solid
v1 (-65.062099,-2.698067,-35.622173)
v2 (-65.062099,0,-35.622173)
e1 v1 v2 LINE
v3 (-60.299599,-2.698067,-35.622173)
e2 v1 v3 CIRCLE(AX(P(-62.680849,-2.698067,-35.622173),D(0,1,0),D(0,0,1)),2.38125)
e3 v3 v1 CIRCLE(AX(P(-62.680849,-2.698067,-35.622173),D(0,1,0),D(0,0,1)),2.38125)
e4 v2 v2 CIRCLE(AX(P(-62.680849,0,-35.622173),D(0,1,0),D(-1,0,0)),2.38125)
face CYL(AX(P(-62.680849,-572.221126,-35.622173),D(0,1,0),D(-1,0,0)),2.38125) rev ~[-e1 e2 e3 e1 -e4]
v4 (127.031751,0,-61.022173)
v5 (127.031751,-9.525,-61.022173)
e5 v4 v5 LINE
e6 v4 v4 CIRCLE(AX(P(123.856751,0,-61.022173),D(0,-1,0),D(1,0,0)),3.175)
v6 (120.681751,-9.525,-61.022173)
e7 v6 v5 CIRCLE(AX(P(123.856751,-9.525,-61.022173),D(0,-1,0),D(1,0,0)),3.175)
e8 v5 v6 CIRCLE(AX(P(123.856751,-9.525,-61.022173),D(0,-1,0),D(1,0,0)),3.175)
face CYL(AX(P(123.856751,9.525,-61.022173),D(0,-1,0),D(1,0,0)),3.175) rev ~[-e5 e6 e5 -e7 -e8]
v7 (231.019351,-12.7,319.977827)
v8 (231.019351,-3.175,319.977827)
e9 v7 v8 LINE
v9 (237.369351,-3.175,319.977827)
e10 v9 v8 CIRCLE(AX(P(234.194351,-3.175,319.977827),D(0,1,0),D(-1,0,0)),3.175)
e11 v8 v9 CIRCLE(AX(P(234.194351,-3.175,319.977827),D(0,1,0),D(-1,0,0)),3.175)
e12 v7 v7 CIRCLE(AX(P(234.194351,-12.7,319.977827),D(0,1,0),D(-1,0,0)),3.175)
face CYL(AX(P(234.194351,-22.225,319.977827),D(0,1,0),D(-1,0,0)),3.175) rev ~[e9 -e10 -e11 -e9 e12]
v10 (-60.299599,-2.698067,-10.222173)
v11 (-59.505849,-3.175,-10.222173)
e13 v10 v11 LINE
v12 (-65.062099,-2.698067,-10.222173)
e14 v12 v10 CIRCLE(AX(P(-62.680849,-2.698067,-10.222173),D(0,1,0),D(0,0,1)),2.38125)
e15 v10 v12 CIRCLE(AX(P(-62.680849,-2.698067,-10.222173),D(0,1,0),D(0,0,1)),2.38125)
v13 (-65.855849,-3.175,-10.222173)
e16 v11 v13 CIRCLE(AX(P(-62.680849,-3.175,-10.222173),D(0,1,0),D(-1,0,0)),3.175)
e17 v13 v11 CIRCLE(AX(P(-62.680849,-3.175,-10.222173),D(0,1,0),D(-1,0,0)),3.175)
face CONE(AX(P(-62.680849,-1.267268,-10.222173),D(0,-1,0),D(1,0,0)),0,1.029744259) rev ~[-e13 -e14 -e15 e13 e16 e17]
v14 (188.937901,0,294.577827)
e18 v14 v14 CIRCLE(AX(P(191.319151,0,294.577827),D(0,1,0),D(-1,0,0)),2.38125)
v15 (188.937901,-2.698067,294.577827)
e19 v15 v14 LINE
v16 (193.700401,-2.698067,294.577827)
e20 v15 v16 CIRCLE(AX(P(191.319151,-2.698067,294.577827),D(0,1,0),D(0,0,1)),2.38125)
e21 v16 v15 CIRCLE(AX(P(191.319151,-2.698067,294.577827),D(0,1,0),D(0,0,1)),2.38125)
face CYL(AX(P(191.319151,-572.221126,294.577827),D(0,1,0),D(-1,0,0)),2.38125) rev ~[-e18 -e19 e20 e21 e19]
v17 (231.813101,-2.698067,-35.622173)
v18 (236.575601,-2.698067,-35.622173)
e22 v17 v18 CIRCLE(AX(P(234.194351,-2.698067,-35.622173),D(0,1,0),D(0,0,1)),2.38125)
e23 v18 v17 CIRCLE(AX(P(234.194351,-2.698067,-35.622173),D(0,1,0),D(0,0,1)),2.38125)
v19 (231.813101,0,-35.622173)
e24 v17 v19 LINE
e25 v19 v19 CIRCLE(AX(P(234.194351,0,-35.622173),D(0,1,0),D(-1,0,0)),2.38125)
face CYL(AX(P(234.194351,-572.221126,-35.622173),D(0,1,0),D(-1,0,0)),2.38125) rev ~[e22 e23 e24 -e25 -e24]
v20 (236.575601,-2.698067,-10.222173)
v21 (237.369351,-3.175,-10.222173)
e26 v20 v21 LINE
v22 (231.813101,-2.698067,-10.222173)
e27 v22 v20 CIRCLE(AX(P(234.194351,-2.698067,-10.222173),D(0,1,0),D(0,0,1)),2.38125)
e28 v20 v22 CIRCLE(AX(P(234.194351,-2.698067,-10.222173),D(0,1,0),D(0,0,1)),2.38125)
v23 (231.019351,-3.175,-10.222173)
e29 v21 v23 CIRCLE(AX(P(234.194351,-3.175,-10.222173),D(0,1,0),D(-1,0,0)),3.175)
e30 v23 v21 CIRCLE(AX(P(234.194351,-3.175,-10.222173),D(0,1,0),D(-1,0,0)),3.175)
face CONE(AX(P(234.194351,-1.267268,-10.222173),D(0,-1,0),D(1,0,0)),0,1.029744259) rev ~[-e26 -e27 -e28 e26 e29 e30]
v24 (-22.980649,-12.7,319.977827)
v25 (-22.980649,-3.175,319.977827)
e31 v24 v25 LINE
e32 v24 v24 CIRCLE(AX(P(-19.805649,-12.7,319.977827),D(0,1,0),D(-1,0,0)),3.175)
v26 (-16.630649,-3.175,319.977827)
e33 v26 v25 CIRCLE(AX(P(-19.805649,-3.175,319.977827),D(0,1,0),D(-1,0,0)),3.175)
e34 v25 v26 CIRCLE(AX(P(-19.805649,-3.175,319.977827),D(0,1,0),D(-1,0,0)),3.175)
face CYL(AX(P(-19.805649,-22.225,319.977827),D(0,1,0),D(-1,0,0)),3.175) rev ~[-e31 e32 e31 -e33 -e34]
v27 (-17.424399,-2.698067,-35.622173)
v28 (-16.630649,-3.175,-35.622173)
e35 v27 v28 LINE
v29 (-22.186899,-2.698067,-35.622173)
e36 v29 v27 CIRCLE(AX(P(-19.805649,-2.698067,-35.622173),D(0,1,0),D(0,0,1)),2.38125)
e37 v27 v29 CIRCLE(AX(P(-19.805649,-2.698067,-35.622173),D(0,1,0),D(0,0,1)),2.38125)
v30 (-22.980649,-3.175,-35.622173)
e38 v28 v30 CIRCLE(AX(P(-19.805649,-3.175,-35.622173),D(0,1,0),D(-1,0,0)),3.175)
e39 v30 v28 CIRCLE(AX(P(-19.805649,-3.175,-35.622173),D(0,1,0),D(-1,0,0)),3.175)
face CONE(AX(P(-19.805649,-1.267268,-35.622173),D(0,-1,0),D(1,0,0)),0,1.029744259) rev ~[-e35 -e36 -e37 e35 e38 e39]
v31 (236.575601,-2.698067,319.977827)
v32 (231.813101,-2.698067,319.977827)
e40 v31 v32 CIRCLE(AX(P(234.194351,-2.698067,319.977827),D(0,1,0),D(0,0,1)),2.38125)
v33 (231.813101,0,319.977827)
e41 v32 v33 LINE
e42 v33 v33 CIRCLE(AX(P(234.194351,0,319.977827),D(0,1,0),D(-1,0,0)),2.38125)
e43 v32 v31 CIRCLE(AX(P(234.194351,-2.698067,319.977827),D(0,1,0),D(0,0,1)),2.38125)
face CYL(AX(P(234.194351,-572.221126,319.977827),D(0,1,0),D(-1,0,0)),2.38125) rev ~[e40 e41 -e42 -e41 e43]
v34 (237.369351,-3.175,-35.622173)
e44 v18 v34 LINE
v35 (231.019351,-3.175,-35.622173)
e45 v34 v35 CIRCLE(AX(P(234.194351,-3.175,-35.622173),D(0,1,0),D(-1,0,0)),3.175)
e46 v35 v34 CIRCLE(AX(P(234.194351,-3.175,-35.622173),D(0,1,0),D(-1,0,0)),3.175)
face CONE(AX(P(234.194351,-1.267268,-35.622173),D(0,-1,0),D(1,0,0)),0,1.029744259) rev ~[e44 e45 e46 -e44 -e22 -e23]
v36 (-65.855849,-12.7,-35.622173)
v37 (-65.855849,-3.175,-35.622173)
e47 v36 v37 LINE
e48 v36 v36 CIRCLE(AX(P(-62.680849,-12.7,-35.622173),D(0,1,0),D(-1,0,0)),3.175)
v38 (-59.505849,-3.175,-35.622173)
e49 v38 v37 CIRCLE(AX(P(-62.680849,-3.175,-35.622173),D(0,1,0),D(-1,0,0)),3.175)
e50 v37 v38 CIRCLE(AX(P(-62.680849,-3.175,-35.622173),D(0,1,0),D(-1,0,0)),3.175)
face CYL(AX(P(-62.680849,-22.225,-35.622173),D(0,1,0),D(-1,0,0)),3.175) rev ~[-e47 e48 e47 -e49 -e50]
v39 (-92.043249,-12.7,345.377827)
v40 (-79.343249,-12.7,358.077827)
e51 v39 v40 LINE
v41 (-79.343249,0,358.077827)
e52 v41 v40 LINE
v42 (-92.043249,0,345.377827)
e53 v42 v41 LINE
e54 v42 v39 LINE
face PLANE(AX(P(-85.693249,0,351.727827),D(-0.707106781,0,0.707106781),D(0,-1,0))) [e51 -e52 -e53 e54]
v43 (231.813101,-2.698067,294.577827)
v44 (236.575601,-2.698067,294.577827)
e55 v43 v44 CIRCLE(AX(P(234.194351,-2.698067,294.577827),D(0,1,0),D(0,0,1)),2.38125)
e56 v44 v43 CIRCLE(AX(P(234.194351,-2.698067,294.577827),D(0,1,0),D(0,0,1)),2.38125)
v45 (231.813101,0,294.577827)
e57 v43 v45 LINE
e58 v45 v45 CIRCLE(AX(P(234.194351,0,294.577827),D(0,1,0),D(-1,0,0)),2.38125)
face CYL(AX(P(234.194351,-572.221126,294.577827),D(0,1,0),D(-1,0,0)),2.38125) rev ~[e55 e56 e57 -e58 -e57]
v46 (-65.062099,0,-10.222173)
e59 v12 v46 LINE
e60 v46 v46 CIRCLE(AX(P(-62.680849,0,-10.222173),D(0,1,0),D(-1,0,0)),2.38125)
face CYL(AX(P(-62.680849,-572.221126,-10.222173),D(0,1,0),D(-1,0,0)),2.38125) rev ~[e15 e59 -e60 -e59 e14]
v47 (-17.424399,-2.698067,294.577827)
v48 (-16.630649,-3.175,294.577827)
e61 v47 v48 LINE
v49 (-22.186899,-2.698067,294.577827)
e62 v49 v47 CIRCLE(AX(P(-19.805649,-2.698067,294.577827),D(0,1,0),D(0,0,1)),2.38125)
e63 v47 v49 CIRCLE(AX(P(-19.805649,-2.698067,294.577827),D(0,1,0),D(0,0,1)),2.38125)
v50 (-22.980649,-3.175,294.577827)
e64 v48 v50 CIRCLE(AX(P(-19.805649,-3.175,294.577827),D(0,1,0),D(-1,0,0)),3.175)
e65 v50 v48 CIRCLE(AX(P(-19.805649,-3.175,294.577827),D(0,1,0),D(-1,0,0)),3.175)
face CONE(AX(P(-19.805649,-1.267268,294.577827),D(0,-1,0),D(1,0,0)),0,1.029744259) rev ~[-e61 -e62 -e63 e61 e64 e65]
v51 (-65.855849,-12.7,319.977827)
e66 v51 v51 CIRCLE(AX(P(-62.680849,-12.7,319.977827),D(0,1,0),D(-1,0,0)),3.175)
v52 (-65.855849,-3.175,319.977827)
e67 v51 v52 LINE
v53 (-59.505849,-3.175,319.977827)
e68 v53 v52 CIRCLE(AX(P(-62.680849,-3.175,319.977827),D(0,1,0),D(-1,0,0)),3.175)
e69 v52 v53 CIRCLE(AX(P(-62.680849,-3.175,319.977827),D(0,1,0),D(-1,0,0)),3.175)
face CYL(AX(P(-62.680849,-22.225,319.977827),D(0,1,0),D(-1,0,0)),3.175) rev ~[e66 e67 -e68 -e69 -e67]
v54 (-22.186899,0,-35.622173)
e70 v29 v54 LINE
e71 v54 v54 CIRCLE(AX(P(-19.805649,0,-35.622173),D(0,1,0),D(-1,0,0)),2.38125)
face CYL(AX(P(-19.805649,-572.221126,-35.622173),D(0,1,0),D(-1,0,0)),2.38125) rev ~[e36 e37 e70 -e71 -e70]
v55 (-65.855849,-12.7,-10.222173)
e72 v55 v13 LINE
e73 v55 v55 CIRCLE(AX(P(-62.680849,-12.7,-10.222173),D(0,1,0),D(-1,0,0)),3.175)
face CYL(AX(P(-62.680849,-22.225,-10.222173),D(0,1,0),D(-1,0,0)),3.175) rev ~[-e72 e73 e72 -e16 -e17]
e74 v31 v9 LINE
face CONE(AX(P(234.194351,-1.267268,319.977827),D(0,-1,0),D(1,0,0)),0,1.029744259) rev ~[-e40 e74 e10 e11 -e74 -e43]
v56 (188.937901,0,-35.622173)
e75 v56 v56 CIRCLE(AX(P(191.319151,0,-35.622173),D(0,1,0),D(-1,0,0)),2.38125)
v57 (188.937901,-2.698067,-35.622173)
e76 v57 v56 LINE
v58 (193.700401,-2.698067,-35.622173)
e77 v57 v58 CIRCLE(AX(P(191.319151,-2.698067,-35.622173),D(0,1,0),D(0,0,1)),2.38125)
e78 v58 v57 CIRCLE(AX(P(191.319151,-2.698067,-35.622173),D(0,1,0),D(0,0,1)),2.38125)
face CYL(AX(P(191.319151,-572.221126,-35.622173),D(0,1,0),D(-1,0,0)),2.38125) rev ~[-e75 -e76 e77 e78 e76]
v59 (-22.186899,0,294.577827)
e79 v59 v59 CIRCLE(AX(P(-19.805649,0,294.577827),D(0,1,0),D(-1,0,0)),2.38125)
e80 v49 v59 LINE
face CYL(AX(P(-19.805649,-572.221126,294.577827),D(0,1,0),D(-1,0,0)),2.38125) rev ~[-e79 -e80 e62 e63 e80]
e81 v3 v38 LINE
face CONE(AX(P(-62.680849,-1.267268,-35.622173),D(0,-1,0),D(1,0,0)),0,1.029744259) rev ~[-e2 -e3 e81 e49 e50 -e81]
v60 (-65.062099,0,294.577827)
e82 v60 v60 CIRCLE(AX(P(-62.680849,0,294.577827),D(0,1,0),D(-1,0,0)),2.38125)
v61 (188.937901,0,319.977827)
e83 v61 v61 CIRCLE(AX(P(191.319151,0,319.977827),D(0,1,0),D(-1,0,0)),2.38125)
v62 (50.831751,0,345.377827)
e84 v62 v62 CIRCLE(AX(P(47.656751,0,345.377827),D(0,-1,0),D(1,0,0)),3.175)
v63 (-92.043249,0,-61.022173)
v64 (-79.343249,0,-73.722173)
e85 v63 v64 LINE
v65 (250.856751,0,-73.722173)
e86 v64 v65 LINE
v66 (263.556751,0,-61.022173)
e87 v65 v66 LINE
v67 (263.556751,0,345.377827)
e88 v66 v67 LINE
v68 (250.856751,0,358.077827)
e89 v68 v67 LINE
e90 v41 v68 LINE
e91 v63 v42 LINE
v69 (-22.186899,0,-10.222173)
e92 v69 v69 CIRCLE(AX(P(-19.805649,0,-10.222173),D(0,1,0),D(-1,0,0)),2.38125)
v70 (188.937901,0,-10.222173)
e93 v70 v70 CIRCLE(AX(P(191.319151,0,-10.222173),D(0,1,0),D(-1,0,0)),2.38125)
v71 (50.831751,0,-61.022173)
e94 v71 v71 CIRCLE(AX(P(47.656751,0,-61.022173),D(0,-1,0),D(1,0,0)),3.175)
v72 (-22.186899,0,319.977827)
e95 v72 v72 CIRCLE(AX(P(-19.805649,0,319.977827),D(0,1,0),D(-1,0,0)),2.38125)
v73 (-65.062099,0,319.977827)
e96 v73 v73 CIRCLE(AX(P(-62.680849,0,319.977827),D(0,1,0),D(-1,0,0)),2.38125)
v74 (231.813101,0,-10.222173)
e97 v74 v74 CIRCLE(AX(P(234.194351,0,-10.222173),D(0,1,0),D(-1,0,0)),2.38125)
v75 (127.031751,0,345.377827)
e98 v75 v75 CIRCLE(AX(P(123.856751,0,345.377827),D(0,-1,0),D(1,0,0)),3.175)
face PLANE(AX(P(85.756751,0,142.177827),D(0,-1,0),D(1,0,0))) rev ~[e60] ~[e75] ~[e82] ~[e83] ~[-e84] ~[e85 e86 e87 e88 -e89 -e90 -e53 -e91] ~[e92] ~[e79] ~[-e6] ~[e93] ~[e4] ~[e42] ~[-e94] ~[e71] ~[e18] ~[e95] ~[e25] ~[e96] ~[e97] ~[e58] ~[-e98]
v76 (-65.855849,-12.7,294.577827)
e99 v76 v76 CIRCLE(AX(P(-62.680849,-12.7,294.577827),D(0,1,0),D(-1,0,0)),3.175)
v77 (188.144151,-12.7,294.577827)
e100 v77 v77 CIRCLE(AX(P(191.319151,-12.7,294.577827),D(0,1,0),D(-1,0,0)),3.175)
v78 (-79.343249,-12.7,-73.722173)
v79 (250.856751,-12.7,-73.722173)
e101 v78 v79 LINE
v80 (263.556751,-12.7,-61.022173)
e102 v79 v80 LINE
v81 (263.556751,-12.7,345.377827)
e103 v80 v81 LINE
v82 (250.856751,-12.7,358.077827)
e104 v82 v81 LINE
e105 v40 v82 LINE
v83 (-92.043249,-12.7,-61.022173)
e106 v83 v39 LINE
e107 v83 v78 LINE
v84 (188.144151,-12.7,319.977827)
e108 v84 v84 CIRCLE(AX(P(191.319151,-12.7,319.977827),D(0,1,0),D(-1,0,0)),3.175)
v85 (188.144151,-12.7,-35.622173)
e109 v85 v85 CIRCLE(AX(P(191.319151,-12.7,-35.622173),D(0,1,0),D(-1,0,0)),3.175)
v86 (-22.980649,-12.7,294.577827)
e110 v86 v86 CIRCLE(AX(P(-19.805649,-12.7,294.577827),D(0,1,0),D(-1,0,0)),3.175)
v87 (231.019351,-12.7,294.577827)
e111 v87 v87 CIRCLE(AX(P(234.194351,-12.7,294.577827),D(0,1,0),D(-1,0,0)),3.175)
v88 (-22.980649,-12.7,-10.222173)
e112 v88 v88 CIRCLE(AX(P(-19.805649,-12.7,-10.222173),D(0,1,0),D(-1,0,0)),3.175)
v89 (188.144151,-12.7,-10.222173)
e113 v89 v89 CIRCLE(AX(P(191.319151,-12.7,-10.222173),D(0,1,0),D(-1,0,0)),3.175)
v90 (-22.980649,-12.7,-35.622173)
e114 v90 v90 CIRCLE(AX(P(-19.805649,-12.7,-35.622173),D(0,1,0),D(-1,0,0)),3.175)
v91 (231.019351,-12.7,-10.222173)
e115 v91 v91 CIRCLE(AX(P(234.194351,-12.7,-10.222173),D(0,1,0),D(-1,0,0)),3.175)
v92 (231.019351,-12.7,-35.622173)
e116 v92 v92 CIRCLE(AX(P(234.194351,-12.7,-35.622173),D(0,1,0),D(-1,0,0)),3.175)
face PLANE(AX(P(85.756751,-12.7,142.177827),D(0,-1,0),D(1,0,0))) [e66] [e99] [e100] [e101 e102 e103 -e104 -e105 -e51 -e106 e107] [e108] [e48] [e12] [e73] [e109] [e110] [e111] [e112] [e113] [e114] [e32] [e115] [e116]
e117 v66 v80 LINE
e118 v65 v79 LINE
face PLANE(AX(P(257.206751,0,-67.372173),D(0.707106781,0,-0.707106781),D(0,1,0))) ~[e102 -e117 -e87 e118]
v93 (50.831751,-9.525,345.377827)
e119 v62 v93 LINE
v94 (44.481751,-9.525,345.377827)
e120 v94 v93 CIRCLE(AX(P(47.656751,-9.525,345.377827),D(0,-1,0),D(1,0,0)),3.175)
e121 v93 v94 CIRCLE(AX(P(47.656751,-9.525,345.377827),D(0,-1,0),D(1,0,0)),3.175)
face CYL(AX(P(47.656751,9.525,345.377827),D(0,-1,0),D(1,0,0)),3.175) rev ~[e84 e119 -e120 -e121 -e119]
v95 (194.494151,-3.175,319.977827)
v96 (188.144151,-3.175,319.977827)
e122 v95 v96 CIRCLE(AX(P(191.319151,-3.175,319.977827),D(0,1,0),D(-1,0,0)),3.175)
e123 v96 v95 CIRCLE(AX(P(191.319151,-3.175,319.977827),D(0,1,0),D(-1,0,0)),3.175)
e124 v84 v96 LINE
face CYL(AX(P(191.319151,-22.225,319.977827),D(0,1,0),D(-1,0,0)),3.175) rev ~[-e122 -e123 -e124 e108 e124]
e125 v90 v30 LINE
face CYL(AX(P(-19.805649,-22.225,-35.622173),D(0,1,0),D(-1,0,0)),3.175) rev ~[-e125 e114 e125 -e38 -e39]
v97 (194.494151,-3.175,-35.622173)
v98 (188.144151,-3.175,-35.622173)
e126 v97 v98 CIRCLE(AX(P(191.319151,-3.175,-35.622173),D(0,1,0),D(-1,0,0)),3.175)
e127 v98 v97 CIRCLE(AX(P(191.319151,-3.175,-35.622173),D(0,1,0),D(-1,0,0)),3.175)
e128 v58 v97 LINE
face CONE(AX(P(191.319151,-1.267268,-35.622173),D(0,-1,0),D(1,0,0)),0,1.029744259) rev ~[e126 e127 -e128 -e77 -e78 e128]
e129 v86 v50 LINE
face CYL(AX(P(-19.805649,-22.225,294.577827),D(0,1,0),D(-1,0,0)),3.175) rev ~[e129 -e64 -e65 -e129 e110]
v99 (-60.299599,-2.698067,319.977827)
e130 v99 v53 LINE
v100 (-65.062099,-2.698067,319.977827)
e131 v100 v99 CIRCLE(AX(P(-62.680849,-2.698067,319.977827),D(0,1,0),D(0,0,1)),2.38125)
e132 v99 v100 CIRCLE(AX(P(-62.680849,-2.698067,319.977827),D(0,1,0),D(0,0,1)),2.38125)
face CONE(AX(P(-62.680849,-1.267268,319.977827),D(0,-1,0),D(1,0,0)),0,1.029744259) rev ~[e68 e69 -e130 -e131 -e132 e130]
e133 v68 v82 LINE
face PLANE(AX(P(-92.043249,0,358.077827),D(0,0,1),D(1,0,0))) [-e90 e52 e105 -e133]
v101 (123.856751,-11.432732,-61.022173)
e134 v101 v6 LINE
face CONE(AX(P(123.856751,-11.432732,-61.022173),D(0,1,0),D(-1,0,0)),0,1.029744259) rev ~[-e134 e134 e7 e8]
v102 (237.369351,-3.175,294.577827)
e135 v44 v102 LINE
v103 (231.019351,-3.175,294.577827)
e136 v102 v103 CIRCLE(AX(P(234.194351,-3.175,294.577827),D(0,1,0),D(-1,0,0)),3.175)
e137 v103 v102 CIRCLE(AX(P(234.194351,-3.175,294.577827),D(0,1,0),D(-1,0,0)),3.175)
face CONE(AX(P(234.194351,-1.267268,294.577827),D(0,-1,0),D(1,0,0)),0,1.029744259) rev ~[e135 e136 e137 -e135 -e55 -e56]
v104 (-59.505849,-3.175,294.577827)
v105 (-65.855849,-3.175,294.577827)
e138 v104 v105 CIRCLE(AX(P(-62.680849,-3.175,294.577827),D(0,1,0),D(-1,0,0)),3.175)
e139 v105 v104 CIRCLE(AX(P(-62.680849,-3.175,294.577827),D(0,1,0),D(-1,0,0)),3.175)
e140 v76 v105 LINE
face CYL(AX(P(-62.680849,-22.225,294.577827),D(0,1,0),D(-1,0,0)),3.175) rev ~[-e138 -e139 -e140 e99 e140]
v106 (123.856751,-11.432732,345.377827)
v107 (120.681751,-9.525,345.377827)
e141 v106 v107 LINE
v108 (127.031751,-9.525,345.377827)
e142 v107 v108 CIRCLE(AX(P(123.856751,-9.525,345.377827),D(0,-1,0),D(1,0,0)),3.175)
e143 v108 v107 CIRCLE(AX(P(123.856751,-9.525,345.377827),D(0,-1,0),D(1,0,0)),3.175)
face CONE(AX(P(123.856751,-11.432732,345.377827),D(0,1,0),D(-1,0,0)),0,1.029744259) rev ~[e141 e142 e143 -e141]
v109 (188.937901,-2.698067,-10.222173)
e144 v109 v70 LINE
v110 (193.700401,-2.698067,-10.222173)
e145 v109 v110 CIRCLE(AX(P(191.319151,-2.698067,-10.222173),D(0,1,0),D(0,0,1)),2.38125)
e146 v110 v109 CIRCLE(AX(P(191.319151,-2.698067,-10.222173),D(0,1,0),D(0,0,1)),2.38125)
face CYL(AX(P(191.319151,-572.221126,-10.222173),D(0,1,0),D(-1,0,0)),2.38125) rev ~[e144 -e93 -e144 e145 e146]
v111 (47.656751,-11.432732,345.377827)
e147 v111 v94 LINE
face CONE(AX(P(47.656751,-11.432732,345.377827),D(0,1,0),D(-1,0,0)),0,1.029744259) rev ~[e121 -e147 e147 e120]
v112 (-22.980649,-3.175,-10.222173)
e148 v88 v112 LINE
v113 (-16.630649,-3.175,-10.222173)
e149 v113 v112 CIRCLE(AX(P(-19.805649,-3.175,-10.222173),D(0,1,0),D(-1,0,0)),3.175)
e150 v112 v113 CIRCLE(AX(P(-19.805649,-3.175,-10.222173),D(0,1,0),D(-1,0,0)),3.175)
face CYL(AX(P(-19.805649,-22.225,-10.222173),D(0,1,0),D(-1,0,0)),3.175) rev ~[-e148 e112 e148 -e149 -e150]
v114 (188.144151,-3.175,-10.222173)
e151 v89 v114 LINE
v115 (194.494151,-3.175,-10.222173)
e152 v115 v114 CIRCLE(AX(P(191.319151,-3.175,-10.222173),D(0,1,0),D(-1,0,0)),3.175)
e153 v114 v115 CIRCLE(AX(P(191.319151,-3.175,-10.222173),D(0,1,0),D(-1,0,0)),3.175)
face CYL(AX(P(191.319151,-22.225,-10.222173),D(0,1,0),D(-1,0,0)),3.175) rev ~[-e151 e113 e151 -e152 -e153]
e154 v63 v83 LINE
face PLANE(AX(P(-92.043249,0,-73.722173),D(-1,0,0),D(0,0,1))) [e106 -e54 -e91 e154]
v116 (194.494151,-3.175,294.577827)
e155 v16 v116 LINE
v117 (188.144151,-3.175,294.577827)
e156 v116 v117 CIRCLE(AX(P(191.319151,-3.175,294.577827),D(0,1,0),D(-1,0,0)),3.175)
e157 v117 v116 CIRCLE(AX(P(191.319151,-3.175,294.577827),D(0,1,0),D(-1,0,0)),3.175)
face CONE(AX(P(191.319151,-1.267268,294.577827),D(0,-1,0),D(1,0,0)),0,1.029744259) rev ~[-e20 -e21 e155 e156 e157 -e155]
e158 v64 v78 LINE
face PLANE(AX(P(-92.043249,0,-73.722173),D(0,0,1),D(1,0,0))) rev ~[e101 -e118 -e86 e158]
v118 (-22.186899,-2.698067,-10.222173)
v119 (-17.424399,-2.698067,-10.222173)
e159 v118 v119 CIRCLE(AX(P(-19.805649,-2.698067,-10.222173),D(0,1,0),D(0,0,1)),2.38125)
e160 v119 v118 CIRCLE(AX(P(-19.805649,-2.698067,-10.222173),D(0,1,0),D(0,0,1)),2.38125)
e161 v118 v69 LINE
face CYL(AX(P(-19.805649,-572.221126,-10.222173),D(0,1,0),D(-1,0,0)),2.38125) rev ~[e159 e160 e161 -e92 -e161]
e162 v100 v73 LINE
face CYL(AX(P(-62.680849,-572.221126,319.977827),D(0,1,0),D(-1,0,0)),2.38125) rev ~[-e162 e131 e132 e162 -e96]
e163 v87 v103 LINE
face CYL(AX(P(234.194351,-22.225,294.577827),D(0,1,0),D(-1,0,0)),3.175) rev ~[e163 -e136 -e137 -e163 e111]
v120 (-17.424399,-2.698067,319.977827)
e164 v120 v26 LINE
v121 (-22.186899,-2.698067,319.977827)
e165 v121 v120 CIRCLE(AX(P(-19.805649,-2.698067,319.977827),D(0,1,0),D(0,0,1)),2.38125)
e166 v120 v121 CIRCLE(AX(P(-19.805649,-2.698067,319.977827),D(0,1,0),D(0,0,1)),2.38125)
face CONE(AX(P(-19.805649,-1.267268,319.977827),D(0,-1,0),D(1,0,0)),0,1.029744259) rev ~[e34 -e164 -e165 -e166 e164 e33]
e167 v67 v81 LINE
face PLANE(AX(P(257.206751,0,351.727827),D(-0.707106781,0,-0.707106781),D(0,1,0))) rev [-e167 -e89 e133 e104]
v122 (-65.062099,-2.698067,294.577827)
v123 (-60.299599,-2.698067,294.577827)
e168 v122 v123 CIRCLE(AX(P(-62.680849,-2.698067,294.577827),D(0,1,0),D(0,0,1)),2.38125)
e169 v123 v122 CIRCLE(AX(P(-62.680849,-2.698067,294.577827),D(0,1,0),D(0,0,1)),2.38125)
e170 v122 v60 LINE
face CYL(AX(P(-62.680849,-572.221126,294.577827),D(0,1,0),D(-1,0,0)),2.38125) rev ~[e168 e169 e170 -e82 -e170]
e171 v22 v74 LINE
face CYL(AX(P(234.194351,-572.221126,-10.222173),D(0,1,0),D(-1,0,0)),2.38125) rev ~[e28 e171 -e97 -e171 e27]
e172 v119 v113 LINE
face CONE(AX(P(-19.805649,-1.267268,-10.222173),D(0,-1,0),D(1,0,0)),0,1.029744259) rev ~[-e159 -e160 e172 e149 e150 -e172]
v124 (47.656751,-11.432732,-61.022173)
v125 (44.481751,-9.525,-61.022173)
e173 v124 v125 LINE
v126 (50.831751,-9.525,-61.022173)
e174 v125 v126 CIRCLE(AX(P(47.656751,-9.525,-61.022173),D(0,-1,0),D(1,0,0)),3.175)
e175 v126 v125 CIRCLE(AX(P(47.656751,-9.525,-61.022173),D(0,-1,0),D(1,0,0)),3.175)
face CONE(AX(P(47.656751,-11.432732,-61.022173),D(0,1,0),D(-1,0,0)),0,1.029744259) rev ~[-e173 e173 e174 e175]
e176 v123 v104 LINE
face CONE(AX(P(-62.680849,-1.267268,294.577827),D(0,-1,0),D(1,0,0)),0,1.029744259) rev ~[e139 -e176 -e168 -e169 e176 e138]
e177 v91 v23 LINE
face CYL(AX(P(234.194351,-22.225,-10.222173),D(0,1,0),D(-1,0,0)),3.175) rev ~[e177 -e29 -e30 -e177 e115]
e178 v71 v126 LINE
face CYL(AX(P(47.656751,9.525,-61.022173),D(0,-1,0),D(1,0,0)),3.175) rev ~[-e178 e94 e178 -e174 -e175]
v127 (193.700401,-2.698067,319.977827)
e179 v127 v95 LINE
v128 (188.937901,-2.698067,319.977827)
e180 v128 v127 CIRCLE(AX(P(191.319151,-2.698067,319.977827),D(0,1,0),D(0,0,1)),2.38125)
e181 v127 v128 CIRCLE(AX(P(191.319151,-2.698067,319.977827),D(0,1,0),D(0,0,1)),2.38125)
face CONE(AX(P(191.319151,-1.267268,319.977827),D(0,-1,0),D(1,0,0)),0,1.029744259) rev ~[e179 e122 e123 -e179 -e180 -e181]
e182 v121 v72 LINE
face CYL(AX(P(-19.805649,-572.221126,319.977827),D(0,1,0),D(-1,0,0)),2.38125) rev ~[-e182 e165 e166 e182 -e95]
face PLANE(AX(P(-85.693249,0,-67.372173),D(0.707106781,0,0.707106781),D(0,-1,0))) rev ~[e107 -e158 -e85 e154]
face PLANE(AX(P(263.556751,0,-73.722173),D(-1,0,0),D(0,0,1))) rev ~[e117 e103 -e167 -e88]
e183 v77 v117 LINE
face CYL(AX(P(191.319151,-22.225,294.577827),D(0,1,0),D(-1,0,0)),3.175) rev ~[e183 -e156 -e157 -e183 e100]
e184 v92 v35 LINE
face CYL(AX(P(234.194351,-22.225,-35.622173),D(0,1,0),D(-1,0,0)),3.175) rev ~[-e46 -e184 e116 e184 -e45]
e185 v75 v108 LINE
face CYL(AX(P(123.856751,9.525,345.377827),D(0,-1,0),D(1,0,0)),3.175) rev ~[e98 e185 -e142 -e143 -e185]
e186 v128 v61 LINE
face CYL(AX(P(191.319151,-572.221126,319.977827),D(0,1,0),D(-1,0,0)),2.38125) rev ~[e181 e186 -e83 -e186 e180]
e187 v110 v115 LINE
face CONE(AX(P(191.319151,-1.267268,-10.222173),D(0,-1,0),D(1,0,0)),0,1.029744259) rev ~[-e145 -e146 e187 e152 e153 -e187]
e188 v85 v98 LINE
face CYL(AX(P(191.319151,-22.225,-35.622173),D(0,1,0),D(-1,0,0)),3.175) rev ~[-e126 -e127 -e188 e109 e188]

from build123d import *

# Parameters (mm, degrees)
F0_W     = 355.6
F0_H     = 431.8
F1_DEPTH = 12.7
F3_D     = 4.7625
F4_D     = 6.35
F4_DEPTH = 9.525
F4_TIP   = 1.9077324654
F5_SIZE  = 12.7
F7_D     = 6.35
F7_DEPTH = 9.525
F7_TIP   = 1.9077324654


with BuildPart() as f1:
    # F0 (on Front) → F1 (new body)
    with BuildSketch(Plane.XZ):
        with Locations((85.7567511559, 142.1778269973)):
            Rectangle(F0_W, F0_H)
    extrude(amount=F1_DEPTH)

    # F3 (through all)
    with Locations(Plane.XZ.offset(12.7)):
        with Locations((-62.6808488441, 319.9778269973), (-62.6808488441, 294.5778269973), (-19.8056488441, 294.5778269973), (-19.8056488441, 319.9778269973), (191.3191511559, 294.5778269973), (234.1943511559, 294.5778269973), (234.1943511559, 319.9778269973), (191.3191511559, 319.9778269973), (-19.8056488441, -10.2221730027), (-62.6808488441, -10.2221730027), (-62.6808488441, -35.6221730027), (-19.8056488441, -35.6221730027), (191.3191511559, -35.6221730027), (234.1943511559, -35.6221730027), (234.1943511559, -10.2221730027), (191.3191511559, -10.2221730027)):
            Hole(F3_D / 2)

    # F4
    with Locations(Plane.XZ.offset(12.7)):
        with Locations((-62.6808488441, 319.9778269973), (-19.8056488441, 319.9778269973), (-62.6808488441, 294.5778269973), (-19.8056488441, 294.5778269973), (191.3191511559, 294.5778269973), (191.3191511559, 319.9778269973), (234.1943511559, 319.9778269973), (234.1943511559, 294.5778269973), (-19.8056488441, -10.2221730027), (-19.8056488441, -35.6221730027), (-62.6808488441, -35.6221730027), (-62.6808488441, -10.2221730027), (191.3191511559, -10.2221730027), (234.1943511559, -10.2221730027), (234.1943511559, -35.6221730027), (191.3191511559, -35.6221730027)):
            Hole(F4_D / 2, depth=F4_DEPTH)
            with Locations((0, 0, -(F4_DEPTH + F4_TIP / 2))):  # 118° drill point
                Cone(0, F4_D / 2, F4_TIP, mode=Mode.SUBTRACT)

    # F5
    f5_edges = [f1.edges().sort_by_distance(p)[0] for p in [
        (-92.043249, -6.35, 358.077827),
        (263.556751, -6.35, 358.077827),
        (263.556751, -6.35, -73.722173),
        (-92.043249, -6.35, -73.722173),
    ]]
    chamfer(f5_edges, length=F5_SIZE)

    # F7
    with Locations(Plane(origin=(0, 0, 0), x_dir=(-1, 0, 0), z_dir=(0, 1, 0))):
        with Locations((-123.8567511559, 345.3778269973), (-47.6567511559, 345.3778269973), (-47.6567511559, -61.0221730027), (-123.8567511559, -61.0221730027)):
            Hole(F7_D / 2, depth=F7_DEPTH)
            with Locations((0, 0, -(F7_DEPTH + F7_TIP / 2))):  # 118° drill point
                Cone(0, F7_D / 2, F7_TIP, mode=Mode.SUBTRACT)


solid = f1.part
